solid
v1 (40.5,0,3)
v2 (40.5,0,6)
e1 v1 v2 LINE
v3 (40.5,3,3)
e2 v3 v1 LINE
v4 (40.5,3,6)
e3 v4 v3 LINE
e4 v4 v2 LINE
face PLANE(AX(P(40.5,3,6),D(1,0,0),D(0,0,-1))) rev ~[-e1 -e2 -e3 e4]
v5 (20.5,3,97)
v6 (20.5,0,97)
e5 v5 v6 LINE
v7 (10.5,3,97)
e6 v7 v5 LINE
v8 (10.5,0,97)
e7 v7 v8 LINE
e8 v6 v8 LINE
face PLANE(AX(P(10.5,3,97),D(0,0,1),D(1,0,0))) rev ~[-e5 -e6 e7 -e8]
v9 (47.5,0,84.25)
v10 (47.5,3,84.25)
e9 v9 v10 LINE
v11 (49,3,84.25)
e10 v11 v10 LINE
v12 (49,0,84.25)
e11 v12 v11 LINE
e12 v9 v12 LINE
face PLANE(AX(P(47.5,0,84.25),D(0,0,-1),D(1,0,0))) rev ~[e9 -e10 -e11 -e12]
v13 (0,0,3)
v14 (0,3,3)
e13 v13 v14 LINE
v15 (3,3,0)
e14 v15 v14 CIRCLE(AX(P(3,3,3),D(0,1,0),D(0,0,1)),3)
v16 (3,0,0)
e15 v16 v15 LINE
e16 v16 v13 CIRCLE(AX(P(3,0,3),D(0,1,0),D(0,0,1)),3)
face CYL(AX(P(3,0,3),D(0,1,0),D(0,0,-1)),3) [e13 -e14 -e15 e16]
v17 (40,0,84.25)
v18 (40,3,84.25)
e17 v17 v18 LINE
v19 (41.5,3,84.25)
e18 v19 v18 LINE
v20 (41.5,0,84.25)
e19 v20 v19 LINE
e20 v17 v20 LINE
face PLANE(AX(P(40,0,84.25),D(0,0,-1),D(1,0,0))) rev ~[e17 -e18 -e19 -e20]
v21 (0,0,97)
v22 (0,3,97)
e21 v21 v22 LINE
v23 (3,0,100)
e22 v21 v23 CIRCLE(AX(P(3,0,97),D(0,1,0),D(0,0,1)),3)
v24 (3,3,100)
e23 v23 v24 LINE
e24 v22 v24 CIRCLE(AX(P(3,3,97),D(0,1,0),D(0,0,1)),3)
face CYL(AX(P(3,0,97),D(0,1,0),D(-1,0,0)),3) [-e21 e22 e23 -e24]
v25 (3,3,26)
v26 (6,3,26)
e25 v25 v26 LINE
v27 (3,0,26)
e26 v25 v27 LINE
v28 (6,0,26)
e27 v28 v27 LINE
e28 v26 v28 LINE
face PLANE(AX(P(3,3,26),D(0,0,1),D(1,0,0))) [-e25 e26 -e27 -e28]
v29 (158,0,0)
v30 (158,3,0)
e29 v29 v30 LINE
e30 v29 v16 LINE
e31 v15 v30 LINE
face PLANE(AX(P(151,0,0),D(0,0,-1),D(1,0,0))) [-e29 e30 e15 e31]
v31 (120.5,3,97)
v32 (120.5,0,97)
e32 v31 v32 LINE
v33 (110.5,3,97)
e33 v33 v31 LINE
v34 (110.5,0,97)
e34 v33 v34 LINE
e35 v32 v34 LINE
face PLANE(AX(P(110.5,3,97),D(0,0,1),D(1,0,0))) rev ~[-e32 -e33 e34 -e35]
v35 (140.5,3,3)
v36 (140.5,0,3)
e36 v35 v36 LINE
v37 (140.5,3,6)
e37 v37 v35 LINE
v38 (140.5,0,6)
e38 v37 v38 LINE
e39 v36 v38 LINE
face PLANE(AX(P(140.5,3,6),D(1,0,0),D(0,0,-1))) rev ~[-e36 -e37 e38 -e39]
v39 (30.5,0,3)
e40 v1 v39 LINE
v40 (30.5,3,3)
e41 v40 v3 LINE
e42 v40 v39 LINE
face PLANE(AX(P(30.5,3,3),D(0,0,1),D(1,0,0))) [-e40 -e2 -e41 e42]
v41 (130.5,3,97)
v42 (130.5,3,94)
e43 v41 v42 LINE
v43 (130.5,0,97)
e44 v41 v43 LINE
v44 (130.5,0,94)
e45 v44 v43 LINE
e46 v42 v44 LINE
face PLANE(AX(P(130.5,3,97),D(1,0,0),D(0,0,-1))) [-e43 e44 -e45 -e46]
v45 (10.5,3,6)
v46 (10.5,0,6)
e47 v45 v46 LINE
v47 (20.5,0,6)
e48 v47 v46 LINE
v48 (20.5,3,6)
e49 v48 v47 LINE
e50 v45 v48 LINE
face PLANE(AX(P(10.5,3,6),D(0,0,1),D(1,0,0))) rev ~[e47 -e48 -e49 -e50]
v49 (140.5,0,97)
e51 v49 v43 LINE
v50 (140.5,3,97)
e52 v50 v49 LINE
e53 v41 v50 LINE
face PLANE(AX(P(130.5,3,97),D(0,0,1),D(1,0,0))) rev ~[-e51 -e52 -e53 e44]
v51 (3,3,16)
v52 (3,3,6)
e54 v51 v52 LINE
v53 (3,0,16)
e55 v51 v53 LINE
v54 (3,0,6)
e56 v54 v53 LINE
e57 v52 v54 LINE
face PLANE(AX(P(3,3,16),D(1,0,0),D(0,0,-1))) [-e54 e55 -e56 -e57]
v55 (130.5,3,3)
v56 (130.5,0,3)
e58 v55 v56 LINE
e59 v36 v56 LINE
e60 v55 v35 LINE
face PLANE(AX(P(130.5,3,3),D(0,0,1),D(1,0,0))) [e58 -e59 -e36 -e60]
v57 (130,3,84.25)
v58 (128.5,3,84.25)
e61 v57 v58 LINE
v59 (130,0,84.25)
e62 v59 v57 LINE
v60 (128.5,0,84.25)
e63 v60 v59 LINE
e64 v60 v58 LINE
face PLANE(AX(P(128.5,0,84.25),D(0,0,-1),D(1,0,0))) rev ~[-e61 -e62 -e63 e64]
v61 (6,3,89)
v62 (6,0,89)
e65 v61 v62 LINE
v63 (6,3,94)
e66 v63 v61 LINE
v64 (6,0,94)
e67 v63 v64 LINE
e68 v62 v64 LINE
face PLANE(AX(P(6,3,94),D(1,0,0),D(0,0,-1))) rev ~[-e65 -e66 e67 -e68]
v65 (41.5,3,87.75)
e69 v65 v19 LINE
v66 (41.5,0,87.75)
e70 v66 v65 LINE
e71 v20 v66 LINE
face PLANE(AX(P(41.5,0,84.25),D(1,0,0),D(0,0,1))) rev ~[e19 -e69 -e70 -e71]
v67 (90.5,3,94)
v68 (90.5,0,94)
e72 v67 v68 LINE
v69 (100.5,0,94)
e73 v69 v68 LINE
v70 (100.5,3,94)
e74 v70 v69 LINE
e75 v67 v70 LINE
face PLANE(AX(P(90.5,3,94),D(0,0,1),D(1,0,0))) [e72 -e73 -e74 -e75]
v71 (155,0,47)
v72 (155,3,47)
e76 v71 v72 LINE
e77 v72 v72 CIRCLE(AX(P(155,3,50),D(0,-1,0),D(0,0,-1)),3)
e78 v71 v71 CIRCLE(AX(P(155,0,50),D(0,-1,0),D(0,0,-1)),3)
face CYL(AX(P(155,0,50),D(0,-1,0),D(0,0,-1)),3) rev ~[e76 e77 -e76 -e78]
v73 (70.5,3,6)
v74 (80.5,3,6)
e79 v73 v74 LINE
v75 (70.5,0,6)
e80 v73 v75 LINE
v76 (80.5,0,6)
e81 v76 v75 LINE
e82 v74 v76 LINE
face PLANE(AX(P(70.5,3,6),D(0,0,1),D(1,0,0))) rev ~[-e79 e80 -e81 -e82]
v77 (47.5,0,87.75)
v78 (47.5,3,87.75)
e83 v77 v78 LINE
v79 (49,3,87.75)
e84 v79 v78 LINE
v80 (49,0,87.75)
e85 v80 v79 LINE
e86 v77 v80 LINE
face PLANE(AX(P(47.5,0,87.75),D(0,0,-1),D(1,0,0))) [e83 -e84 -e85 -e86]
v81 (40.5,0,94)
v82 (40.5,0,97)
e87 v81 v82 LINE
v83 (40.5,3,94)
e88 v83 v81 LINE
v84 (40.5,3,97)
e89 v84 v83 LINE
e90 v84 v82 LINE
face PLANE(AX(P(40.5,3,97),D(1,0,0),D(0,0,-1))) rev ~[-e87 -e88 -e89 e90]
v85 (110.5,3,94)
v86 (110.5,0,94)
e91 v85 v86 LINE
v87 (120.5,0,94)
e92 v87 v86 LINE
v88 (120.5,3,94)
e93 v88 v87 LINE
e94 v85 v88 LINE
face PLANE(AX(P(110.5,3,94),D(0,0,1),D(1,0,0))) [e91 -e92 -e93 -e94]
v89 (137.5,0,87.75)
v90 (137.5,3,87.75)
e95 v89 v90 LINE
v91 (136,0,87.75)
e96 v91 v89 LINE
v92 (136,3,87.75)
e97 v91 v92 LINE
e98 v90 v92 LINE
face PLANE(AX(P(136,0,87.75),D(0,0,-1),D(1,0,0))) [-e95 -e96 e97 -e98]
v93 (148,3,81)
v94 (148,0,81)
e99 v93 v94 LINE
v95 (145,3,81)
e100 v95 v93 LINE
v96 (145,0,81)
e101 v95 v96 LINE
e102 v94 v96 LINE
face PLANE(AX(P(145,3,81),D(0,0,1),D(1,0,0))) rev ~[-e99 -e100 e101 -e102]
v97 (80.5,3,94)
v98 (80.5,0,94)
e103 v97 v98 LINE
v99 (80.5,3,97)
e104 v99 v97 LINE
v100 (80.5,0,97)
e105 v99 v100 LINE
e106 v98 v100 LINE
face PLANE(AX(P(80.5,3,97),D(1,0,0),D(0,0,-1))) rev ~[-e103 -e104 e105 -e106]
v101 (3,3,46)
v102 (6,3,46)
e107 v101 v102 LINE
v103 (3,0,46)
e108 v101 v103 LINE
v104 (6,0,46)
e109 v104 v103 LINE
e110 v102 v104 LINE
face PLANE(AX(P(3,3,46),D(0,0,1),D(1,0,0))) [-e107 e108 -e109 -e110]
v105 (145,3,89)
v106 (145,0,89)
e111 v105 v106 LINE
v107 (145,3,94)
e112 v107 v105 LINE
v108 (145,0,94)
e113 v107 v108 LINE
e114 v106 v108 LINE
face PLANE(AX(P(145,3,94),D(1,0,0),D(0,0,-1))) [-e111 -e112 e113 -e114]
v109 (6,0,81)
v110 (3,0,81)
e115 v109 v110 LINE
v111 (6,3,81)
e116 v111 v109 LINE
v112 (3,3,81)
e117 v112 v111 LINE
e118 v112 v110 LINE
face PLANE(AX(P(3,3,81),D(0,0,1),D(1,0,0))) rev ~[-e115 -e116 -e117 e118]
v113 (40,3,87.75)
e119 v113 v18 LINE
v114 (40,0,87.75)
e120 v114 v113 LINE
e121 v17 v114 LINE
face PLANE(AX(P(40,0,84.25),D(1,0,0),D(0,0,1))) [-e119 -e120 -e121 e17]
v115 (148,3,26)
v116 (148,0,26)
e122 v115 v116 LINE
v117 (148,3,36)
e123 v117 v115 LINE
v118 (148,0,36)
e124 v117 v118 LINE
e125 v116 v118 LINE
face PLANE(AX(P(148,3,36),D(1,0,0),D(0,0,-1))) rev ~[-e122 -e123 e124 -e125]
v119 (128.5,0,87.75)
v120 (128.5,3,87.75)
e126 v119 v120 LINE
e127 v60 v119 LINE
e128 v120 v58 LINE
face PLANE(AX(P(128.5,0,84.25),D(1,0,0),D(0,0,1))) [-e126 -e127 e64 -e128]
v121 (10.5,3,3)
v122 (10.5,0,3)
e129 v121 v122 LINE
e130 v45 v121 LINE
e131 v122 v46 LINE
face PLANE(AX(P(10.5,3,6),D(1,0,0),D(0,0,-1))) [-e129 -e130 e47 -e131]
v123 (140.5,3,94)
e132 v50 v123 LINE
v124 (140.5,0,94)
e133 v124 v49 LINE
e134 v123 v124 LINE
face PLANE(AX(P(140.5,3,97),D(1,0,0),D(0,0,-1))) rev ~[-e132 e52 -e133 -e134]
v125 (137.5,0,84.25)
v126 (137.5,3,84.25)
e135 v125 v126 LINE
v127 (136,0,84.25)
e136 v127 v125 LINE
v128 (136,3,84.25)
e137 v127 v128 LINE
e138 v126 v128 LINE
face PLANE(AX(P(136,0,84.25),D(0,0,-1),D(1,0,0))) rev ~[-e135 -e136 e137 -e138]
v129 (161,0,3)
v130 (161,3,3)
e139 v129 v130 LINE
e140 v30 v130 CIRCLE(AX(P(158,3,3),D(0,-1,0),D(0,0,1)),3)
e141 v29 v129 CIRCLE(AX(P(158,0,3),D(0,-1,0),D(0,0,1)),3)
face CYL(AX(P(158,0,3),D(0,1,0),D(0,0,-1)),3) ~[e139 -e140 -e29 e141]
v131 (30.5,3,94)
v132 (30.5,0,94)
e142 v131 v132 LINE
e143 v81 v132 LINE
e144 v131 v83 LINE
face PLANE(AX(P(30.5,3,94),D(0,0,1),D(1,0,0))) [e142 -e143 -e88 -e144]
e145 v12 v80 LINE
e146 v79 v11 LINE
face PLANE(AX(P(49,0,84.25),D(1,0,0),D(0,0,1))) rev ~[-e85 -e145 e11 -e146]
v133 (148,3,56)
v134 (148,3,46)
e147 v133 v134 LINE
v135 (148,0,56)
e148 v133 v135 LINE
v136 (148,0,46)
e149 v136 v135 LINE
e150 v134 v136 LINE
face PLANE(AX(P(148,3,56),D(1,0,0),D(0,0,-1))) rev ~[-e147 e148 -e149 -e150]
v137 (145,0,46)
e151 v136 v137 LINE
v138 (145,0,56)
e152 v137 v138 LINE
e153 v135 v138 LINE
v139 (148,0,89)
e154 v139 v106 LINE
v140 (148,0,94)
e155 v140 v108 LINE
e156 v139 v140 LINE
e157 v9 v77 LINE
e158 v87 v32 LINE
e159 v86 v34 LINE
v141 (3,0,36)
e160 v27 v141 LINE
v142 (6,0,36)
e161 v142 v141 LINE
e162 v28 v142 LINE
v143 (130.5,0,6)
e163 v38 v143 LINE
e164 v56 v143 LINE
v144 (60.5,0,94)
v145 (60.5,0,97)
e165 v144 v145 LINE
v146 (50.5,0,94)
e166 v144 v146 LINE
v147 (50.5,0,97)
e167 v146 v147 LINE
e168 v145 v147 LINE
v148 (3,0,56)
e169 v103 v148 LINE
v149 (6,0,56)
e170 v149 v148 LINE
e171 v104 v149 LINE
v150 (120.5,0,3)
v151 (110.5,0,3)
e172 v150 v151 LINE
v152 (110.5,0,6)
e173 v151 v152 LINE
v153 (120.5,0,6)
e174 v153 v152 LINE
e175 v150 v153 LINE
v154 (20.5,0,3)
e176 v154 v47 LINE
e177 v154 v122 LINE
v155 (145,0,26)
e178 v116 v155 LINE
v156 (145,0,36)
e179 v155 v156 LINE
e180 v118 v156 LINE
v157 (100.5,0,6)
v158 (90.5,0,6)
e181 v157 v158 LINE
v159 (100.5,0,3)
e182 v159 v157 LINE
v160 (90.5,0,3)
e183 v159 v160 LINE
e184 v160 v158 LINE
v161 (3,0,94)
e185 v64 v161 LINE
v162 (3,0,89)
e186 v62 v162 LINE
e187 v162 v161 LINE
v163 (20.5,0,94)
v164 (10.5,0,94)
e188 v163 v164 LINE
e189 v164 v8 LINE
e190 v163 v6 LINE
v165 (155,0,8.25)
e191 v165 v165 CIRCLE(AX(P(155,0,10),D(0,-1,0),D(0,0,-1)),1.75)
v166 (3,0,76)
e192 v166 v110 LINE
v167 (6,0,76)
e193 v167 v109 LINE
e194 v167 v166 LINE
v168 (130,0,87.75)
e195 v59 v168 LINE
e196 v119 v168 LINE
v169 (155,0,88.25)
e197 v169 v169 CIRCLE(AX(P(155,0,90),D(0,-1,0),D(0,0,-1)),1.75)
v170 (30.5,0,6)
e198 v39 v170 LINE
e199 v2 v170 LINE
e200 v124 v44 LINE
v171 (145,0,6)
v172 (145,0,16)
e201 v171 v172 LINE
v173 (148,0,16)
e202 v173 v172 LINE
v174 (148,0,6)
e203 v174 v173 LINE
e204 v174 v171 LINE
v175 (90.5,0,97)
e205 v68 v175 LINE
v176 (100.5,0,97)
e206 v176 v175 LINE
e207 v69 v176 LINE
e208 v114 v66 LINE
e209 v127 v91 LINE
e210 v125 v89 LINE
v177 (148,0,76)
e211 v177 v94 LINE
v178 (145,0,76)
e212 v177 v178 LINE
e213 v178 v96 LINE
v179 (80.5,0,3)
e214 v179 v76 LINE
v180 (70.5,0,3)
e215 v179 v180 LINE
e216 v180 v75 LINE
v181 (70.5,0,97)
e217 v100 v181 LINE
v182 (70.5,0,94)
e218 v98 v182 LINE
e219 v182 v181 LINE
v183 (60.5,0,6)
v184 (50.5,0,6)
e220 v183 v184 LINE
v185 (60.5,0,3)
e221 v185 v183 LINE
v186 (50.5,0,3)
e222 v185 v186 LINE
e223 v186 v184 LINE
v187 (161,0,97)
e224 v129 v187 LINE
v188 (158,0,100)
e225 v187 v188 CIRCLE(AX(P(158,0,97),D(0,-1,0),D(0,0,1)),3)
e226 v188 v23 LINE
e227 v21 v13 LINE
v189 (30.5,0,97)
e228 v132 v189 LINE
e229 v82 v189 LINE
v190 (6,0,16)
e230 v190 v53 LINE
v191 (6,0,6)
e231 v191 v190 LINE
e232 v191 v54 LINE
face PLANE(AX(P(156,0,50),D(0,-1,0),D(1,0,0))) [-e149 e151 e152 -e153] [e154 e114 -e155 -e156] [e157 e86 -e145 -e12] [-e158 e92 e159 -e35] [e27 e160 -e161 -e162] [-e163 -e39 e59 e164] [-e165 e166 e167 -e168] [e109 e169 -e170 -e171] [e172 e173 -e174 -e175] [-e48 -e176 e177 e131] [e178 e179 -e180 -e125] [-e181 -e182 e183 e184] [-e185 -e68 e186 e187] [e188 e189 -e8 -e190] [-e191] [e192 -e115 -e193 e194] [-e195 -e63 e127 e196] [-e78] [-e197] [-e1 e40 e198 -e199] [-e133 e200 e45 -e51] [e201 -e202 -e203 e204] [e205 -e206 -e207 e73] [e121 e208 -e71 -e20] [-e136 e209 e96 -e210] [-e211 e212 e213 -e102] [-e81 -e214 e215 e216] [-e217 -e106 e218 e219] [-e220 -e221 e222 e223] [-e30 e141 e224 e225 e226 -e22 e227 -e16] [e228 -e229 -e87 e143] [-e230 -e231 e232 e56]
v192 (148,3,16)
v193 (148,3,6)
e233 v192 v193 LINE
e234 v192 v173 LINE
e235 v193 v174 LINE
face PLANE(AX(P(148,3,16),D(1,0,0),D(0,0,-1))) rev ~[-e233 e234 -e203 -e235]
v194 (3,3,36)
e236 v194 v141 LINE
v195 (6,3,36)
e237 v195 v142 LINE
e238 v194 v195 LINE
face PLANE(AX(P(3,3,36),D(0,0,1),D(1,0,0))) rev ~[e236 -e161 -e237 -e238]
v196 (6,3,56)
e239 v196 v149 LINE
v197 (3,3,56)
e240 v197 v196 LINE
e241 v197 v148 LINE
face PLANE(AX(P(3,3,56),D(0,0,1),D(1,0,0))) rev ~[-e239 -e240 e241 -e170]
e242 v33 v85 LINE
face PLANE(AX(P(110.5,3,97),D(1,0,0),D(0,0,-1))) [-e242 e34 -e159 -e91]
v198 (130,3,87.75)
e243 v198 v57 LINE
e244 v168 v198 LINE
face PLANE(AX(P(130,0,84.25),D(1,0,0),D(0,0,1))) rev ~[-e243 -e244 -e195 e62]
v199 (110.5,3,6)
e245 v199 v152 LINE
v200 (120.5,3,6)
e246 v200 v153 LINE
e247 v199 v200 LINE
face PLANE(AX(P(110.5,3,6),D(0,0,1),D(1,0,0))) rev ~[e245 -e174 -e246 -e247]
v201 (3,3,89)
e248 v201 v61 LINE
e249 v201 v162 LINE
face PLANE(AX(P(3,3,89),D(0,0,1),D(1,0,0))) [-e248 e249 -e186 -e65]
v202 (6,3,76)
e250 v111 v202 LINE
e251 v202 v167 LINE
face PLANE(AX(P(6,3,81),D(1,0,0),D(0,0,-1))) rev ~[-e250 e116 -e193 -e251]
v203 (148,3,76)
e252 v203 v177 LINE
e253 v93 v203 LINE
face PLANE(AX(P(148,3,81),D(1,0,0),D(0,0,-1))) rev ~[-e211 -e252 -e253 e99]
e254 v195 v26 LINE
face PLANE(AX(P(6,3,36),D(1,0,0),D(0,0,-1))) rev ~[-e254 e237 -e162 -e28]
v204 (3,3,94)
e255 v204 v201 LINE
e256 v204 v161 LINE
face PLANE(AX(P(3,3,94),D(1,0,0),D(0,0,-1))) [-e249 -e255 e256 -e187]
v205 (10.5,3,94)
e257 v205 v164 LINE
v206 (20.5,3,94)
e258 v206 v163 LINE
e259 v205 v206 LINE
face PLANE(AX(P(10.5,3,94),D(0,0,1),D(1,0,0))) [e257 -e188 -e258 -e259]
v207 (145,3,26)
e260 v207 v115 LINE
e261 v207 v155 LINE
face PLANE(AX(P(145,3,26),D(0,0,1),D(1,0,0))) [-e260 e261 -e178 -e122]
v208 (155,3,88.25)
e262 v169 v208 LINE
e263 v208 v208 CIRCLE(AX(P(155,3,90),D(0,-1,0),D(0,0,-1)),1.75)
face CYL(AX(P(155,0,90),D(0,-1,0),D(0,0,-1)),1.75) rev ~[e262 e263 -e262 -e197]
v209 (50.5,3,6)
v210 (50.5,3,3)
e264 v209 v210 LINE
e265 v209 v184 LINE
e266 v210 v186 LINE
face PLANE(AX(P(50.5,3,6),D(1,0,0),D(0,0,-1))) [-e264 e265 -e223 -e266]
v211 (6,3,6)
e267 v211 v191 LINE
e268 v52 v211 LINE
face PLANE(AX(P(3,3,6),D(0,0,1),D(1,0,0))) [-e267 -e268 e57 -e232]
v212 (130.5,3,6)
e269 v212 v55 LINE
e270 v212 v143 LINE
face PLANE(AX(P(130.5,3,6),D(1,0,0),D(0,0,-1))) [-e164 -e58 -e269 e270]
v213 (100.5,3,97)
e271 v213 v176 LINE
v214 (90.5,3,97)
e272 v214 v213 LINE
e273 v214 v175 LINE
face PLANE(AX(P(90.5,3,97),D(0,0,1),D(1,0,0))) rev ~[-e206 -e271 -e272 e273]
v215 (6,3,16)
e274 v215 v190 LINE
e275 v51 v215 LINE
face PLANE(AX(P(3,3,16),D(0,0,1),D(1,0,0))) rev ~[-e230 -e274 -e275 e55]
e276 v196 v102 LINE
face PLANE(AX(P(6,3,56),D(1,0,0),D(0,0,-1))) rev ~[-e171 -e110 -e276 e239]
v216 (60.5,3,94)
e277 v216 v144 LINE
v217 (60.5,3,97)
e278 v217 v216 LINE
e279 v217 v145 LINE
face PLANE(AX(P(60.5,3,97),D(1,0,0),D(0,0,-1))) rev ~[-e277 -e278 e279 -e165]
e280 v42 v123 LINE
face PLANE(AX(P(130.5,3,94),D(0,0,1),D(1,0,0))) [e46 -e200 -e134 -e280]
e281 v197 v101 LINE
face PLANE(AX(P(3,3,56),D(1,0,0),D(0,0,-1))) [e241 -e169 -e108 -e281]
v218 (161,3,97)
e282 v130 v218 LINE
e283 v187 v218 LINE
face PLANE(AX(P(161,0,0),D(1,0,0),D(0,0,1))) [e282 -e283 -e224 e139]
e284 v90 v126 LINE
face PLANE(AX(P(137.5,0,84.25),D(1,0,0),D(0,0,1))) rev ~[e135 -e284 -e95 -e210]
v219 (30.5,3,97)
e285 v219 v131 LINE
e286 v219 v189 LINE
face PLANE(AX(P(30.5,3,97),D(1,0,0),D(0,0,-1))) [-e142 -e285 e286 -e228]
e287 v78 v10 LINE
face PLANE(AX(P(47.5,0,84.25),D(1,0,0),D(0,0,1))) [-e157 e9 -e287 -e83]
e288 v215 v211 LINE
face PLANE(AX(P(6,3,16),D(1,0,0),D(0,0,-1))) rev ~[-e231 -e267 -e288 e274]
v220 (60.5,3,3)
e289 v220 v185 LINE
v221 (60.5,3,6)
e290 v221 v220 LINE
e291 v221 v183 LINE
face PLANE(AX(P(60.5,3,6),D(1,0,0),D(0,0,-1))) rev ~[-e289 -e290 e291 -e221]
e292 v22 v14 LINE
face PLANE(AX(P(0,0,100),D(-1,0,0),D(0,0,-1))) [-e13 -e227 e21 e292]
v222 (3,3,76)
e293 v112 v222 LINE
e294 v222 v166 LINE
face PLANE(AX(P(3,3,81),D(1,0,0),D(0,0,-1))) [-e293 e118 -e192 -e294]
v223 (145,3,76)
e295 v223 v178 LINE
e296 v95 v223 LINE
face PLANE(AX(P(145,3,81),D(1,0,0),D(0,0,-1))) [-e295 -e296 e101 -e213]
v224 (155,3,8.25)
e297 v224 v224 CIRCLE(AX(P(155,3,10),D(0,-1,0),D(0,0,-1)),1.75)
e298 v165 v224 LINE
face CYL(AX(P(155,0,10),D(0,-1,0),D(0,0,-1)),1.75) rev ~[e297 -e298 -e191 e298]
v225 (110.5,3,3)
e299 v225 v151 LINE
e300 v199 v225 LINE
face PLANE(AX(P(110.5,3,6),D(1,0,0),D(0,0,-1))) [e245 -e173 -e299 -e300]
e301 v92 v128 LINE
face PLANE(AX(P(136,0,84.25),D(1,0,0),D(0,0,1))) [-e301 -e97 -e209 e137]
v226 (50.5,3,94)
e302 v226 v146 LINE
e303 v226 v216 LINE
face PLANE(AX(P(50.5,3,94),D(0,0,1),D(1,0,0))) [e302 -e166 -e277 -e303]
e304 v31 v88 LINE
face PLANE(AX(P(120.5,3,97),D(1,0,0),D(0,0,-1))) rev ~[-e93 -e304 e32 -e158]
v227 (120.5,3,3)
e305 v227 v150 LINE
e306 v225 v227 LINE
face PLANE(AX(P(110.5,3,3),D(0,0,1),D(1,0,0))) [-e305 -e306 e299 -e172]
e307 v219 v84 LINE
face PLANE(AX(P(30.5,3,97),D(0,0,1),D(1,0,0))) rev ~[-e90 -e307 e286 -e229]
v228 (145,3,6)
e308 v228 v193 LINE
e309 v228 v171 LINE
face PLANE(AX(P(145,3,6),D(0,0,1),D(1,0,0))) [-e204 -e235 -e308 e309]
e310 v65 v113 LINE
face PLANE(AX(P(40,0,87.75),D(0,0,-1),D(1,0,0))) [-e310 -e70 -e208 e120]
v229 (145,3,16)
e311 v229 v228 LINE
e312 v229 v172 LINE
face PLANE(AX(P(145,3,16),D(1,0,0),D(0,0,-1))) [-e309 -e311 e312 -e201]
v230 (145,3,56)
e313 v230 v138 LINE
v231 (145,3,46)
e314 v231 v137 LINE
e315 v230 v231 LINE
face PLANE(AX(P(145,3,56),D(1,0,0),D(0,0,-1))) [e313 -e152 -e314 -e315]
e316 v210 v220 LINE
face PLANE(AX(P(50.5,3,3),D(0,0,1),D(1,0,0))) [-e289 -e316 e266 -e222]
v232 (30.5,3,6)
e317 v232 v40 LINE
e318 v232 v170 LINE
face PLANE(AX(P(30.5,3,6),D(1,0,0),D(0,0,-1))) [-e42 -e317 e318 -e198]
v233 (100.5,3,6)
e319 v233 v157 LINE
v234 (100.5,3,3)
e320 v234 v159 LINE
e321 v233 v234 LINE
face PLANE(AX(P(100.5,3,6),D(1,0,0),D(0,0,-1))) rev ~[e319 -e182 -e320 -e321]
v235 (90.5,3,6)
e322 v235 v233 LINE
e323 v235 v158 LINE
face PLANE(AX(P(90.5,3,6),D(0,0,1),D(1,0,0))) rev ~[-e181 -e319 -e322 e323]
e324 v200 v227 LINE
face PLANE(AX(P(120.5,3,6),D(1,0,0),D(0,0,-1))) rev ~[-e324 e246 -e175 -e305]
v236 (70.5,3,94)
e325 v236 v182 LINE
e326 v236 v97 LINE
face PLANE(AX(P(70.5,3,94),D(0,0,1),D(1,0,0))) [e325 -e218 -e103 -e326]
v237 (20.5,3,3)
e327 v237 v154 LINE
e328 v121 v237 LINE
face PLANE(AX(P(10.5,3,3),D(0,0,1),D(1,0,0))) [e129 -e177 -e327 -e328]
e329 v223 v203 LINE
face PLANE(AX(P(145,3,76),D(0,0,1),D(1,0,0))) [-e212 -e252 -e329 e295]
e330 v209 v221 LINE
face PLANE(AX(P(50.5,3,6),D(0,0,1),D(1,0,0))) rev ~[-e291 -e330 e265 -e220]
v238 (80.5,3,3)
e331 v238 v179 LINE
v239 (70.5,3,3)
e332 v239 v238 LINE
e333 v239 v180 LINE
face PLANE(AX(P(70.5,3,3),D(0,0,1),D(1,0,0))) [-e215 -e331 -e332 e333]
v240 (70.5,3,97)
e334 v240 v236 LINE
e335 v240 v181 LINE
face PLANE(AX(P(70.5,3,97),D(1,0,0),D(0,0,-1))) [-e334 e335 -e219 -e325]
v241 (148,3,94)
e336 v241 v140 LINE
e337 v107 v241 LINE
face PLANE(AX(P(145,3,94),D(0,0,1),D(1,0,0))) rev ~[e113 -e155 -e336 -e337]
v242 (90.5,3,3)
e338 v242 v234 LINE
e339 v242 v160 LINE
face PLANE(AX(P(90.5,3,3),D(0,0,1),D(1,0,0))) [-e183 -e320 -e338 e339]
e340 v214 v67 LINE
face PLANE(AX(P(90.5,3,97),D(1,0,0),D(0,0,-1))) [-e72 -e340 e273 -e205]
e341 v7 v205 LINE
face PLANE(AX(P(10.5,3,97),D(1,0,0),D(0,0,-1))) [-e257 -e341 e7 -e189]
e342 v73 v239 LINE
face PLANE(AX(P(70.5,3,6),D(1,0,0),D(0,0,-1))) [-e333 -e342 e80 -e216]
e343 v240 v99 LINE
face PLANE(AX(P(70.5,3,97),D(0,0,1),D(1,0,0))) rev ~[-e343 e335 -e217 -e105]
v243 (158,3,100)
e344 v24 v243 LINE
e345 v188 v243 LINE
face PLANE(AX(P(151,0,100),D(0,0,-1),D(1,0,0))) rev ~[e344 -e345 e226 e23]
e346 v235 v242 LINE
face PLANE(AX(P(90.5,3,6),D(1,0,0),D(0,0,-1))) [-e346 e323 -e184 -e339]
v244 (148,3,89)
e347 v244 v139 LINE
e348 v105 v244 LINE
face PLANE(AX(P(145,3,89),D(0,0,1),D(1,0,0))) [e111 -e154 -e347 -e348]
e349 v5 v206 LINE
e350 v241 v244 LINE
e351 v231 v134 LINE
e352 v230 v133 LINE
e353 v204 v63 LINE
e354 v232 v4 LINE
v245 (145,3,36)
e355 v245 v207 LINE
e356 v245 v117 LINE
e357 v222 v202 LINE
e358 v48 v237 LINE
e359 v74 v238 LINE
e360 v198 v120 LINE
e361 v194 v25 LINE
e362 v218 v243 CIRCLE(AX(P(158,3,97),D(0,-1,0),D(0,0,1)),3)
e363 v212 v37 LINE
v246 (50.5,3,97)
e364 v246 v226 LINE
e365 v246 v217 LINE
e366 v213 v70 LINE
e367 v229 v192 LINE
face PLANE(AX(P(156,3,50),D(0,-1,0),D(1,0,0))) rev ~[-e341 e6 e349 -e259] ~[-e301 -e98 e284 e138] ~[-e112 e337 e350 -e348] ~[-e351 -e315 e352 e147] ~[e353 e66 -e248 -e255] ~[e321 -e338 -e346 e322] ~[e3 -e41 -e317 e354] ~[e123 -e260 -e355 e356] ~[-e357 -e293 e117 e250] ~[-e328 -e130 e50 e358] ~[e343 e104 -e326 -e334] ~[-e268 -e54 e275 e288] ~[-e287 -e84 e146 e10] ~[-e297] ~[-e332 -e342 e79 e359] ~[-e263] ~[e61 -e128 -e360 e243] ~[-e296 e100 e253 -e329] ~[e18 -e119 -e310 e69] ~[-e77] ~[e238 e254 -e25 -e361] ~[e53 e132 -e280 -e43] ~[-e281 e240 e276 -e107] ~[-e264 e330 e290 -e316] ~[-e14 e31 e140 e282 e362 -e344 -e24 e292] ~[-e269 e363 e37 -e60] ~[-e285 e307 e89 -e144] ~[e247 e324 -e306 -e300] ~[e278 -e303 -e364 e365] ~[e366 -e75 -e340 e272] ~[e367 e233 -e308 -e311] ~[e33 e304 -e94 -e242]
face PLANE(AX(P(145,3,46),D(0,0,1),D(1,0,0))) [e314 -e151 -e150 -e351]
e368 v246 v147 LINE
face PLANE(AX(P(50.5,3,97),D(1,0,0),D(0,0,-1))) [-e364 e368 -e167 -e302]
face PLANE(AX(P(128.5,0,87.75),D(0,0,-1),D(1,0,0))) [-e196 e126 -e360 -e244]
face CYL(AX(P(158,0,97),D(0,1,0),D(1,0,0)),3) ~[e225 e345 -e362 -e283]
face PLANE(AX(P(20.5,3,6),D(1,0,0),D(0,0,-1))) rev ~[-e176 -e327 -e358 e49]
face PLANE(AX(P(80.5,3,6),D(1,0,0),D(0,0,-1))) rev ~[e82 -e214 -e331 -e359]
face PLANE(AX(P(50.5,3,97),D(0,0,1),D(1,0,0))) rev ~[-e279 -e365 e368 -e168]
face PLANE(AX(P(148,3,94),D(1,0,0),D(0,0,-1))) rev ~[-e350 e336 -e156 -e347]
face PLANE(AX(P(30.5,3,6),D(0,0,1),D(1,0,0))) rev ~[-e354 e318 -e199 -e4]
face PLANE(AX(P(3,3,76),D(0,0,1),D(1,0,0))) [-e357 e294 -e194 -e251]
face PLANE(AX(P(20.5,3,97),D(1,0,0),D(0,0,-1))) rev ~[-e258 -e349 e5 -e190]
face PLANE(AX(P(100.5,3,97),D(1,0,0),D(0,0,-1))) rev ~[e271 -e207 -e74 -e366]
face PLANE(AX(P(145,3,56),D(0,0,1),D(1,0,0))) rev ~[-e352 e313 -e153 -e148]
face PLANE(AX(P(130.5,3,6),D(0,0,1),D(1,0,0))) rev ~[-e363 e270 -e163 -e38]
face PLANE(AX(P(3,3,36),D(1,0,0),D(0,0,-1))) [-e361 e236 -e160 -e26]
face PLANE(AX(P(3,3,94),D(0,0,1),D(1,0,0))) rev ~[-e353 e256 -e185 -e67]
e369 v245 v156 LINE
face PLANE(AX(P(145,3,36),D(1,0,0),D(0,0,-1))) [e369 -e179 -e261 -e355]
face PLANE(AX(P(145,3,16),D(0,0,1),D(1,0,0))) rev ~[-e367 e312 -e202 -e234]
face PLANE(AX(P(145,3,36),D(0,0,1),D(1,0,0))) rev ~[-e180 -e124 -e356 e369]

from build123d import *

# Parameters (mm, degrees)
SKETCH1_W           = 151
SKETCH1_H           = 100
BOSS_EXTRUDE1_DEPTH = 3
SKETCH3_W           = 1.5
SKETCH3_H           = 3.5
CUT_EXTRUDE1_DEPTH  = 182.13530854
SKETCH4_W           = 10
SKETCH4_H           = 100
BOSS_EXTRUDE2_DEPTH = 3
SKETCH5_R           = 3
SKETCH5_R_2         = 1.75
CUT_EXTRUDE2_DEPTH  = 190.552103655
FILLET1_R           = 3
FILLET2_R           = 3
SKETCH6_W           = 3
SKETCH6_H           = 5
SKETCH6_H_2         = 10
SKETCH6_W_2         = 10
SKETCH6_H_3         = 3
CUT_EXTRUDE3_DEPTH  = 190.552103655


with BuildPart() as part:
    # Sketch1 → Boss-Extrude1 (new body)
    with BuildSketch(Plane(origin=(0, 0, 0), x_dir=(1, 0, 0), z_dir=(0, 1, 0))):
        with Locations((75.5, -50)):
            Rectangle(SKETCH1_W, SKETCH1_H)
    extrude(amount=BOSS_EXTRUDE1_DEPTH)

    # Sketch3 → Cut-Extrude1 (cut, through all)
    with BuildSketch(Plane.XZ):
        with Locations((40.75, 86)):
            Rectangle(SKETCH3_W, SKETCH3_H)
        with Locations((48.25, 86)):
            Rectangle(SKETCH3_W, SKETCH3_H)
        with Locations((129.25, 86)):
            Rectangle(SKETCH3_W, SKETCH3_H)
        with Locations((136.75, 86)):
            Rectangle(SKETCH3_W, SKETCH3_H)
    extrude(amount=-CUT_EXTRUDE1_DEPTH, mode=Mode.SUBTRACT)

    # Sketch4 → Boss-Extrude2 (add, through all)
    with BuildSketch(Plane.XZ):
        with Locations((156, 50)):
            Rectangle(SKETCH4_W, SKETCH4_H)
    extrude(amount=-BOSS_EXTRUDE2_DEPTH)

    # Sketch5 → Cut-Extrude2 (cut, through all)
    with BuildSketch(Plane.XZ):
        with Locations(Location((155, 50, 0), (0, 0, 270))):
            Circle(SKETCH5_R)
        with Locations(Location((155, 90, 0), (0, 0, 270))):
            Circle(SKETCH5_R_2)
        with Locations(Location((155, 10, 0), (0, 0, 270))):
            Circle(SKETCH5_R_2)
    extrude(amount=-CUT_EXTRUDE2_DEPTH, mode=Mode.SUBTRACT)

    # Fillet1
    fillet1_edges = [part.edges().sort_by_distance(p)[0] for p in [
        (0, 1.5, 0),
        (0, 1.5, 100),
    ]]
    fillet(fillet1_edges, radius=FILLET1_R)

    # Fillet2
    fillet2_edges = [part.edges().sort_by_distance(p)[0] for p in [
        (161, 1.5, 100),
        (161, 1.5, 0),
    ]]
    fillet(fillet2_edges, radius=FILLET2_R)

    # Sketch6 → Cut-Extrude3 (cut, through all)
    with BuildSketch(Plane(origin=(0, 3, 0), x_dir=(1, 0, 0), z_dir=(0, 1, 0))):
        with Locations((146.5, -91.5)):
            Rectangle(SKETCH6_W, SKETCH6_H)
        with Locations((146.5, -78.5)):
            Rectangle(SKETCH6_W, SKETCH6_H)
        with Locations((146.5, -51)):
            Rectangle(SKETCH6_W, SKETCH6_H_2)
        with Locations((146.5, -31)):
            Rectangle(SKETCH6_W, SKETCH6_H_2)
        with Locations((146.5, -11)):
            Rectangle(SKETCH6_W, SKETCH6_H_2)
        with Locations((135.5, -4.5)):
            Rectangle(SKETCH6_W_2, SKETCH6_H_3)
        with Locations((115.5, -4.5)):
            Rectangle(SKETCH6_W_2, SKETCH6_H_3)
        with Locations((95.5, -4.5)):
            Rectangle(SKETCH6_W_2, SKETCH6_H_3)
        with Locations((75.5, -4.5)):
            Rectangle(SKETCH6_W_2, SKETCH6_H_3)
        with Locations((55.5, -4.5)):
            Rectangle(SKETCH6_W_2, SKETCH6_H_3)
        with Locations((35.5, -4.5)):
            Rectangle(SKETCH6_W_2, SKETCH6_H_3)
        with Locations((15.5, -4.5)):
            Rectangle(SKETCH6_W_2, SKETCH6_H_3)
        with Locations((4.5, -11)):
            Rectangle(SKETCH6_W, SKETCH6_H_2)
        with Locations((4.5, -31)):
            Rectangle(SKETCH6_W, SKETCH6_H_2)
        with Locations((4.5, -51)):
            Rectangle(SKETCH6_W, SKETCH6_H_2)
        with Locations((4.5, -78.5)):
            Rectangle(SKETCH6_W, SKETCH6_H)
        with Locations((4.5, -91.5)):
            Rectangle(SKETCH6_W, SKETCH6_H)
        with Locations((15.5, -95.5)):
            Rectangle(SKETCH6_W_2, SKETCH6_H_3)
        with Locations((35.5, -95.5)):
            Rectangle(SKETCH6_W_2, SKETCH6_H_3)
        with Locations((55.5, -95.5)):
            Rectangle(SKETCH6_W_2, SKETCH6_H_3)
        with Locations((75.5, -95.5)):
            Rectangle(SKETCH6_W_2, SKETCH6_H_3)
        with Locations((95.5, -95.5)):
            Rectangle(SKETCH6_W_2, SKETCH6_H_3)
        with Locations((115.5, -95.5)):
            Rectangle(SKETCH6_W_2, SKETCH6_H_3)
        with Locations((135.5, -95.5)):
            Rectangle(SKETCH6_W_2, SKETCH6_H_3)
    extrude(amount=-CUT_EXTRUDE3_DEPTH, mode=Mode.SUBTRACT)


solid = part.part
